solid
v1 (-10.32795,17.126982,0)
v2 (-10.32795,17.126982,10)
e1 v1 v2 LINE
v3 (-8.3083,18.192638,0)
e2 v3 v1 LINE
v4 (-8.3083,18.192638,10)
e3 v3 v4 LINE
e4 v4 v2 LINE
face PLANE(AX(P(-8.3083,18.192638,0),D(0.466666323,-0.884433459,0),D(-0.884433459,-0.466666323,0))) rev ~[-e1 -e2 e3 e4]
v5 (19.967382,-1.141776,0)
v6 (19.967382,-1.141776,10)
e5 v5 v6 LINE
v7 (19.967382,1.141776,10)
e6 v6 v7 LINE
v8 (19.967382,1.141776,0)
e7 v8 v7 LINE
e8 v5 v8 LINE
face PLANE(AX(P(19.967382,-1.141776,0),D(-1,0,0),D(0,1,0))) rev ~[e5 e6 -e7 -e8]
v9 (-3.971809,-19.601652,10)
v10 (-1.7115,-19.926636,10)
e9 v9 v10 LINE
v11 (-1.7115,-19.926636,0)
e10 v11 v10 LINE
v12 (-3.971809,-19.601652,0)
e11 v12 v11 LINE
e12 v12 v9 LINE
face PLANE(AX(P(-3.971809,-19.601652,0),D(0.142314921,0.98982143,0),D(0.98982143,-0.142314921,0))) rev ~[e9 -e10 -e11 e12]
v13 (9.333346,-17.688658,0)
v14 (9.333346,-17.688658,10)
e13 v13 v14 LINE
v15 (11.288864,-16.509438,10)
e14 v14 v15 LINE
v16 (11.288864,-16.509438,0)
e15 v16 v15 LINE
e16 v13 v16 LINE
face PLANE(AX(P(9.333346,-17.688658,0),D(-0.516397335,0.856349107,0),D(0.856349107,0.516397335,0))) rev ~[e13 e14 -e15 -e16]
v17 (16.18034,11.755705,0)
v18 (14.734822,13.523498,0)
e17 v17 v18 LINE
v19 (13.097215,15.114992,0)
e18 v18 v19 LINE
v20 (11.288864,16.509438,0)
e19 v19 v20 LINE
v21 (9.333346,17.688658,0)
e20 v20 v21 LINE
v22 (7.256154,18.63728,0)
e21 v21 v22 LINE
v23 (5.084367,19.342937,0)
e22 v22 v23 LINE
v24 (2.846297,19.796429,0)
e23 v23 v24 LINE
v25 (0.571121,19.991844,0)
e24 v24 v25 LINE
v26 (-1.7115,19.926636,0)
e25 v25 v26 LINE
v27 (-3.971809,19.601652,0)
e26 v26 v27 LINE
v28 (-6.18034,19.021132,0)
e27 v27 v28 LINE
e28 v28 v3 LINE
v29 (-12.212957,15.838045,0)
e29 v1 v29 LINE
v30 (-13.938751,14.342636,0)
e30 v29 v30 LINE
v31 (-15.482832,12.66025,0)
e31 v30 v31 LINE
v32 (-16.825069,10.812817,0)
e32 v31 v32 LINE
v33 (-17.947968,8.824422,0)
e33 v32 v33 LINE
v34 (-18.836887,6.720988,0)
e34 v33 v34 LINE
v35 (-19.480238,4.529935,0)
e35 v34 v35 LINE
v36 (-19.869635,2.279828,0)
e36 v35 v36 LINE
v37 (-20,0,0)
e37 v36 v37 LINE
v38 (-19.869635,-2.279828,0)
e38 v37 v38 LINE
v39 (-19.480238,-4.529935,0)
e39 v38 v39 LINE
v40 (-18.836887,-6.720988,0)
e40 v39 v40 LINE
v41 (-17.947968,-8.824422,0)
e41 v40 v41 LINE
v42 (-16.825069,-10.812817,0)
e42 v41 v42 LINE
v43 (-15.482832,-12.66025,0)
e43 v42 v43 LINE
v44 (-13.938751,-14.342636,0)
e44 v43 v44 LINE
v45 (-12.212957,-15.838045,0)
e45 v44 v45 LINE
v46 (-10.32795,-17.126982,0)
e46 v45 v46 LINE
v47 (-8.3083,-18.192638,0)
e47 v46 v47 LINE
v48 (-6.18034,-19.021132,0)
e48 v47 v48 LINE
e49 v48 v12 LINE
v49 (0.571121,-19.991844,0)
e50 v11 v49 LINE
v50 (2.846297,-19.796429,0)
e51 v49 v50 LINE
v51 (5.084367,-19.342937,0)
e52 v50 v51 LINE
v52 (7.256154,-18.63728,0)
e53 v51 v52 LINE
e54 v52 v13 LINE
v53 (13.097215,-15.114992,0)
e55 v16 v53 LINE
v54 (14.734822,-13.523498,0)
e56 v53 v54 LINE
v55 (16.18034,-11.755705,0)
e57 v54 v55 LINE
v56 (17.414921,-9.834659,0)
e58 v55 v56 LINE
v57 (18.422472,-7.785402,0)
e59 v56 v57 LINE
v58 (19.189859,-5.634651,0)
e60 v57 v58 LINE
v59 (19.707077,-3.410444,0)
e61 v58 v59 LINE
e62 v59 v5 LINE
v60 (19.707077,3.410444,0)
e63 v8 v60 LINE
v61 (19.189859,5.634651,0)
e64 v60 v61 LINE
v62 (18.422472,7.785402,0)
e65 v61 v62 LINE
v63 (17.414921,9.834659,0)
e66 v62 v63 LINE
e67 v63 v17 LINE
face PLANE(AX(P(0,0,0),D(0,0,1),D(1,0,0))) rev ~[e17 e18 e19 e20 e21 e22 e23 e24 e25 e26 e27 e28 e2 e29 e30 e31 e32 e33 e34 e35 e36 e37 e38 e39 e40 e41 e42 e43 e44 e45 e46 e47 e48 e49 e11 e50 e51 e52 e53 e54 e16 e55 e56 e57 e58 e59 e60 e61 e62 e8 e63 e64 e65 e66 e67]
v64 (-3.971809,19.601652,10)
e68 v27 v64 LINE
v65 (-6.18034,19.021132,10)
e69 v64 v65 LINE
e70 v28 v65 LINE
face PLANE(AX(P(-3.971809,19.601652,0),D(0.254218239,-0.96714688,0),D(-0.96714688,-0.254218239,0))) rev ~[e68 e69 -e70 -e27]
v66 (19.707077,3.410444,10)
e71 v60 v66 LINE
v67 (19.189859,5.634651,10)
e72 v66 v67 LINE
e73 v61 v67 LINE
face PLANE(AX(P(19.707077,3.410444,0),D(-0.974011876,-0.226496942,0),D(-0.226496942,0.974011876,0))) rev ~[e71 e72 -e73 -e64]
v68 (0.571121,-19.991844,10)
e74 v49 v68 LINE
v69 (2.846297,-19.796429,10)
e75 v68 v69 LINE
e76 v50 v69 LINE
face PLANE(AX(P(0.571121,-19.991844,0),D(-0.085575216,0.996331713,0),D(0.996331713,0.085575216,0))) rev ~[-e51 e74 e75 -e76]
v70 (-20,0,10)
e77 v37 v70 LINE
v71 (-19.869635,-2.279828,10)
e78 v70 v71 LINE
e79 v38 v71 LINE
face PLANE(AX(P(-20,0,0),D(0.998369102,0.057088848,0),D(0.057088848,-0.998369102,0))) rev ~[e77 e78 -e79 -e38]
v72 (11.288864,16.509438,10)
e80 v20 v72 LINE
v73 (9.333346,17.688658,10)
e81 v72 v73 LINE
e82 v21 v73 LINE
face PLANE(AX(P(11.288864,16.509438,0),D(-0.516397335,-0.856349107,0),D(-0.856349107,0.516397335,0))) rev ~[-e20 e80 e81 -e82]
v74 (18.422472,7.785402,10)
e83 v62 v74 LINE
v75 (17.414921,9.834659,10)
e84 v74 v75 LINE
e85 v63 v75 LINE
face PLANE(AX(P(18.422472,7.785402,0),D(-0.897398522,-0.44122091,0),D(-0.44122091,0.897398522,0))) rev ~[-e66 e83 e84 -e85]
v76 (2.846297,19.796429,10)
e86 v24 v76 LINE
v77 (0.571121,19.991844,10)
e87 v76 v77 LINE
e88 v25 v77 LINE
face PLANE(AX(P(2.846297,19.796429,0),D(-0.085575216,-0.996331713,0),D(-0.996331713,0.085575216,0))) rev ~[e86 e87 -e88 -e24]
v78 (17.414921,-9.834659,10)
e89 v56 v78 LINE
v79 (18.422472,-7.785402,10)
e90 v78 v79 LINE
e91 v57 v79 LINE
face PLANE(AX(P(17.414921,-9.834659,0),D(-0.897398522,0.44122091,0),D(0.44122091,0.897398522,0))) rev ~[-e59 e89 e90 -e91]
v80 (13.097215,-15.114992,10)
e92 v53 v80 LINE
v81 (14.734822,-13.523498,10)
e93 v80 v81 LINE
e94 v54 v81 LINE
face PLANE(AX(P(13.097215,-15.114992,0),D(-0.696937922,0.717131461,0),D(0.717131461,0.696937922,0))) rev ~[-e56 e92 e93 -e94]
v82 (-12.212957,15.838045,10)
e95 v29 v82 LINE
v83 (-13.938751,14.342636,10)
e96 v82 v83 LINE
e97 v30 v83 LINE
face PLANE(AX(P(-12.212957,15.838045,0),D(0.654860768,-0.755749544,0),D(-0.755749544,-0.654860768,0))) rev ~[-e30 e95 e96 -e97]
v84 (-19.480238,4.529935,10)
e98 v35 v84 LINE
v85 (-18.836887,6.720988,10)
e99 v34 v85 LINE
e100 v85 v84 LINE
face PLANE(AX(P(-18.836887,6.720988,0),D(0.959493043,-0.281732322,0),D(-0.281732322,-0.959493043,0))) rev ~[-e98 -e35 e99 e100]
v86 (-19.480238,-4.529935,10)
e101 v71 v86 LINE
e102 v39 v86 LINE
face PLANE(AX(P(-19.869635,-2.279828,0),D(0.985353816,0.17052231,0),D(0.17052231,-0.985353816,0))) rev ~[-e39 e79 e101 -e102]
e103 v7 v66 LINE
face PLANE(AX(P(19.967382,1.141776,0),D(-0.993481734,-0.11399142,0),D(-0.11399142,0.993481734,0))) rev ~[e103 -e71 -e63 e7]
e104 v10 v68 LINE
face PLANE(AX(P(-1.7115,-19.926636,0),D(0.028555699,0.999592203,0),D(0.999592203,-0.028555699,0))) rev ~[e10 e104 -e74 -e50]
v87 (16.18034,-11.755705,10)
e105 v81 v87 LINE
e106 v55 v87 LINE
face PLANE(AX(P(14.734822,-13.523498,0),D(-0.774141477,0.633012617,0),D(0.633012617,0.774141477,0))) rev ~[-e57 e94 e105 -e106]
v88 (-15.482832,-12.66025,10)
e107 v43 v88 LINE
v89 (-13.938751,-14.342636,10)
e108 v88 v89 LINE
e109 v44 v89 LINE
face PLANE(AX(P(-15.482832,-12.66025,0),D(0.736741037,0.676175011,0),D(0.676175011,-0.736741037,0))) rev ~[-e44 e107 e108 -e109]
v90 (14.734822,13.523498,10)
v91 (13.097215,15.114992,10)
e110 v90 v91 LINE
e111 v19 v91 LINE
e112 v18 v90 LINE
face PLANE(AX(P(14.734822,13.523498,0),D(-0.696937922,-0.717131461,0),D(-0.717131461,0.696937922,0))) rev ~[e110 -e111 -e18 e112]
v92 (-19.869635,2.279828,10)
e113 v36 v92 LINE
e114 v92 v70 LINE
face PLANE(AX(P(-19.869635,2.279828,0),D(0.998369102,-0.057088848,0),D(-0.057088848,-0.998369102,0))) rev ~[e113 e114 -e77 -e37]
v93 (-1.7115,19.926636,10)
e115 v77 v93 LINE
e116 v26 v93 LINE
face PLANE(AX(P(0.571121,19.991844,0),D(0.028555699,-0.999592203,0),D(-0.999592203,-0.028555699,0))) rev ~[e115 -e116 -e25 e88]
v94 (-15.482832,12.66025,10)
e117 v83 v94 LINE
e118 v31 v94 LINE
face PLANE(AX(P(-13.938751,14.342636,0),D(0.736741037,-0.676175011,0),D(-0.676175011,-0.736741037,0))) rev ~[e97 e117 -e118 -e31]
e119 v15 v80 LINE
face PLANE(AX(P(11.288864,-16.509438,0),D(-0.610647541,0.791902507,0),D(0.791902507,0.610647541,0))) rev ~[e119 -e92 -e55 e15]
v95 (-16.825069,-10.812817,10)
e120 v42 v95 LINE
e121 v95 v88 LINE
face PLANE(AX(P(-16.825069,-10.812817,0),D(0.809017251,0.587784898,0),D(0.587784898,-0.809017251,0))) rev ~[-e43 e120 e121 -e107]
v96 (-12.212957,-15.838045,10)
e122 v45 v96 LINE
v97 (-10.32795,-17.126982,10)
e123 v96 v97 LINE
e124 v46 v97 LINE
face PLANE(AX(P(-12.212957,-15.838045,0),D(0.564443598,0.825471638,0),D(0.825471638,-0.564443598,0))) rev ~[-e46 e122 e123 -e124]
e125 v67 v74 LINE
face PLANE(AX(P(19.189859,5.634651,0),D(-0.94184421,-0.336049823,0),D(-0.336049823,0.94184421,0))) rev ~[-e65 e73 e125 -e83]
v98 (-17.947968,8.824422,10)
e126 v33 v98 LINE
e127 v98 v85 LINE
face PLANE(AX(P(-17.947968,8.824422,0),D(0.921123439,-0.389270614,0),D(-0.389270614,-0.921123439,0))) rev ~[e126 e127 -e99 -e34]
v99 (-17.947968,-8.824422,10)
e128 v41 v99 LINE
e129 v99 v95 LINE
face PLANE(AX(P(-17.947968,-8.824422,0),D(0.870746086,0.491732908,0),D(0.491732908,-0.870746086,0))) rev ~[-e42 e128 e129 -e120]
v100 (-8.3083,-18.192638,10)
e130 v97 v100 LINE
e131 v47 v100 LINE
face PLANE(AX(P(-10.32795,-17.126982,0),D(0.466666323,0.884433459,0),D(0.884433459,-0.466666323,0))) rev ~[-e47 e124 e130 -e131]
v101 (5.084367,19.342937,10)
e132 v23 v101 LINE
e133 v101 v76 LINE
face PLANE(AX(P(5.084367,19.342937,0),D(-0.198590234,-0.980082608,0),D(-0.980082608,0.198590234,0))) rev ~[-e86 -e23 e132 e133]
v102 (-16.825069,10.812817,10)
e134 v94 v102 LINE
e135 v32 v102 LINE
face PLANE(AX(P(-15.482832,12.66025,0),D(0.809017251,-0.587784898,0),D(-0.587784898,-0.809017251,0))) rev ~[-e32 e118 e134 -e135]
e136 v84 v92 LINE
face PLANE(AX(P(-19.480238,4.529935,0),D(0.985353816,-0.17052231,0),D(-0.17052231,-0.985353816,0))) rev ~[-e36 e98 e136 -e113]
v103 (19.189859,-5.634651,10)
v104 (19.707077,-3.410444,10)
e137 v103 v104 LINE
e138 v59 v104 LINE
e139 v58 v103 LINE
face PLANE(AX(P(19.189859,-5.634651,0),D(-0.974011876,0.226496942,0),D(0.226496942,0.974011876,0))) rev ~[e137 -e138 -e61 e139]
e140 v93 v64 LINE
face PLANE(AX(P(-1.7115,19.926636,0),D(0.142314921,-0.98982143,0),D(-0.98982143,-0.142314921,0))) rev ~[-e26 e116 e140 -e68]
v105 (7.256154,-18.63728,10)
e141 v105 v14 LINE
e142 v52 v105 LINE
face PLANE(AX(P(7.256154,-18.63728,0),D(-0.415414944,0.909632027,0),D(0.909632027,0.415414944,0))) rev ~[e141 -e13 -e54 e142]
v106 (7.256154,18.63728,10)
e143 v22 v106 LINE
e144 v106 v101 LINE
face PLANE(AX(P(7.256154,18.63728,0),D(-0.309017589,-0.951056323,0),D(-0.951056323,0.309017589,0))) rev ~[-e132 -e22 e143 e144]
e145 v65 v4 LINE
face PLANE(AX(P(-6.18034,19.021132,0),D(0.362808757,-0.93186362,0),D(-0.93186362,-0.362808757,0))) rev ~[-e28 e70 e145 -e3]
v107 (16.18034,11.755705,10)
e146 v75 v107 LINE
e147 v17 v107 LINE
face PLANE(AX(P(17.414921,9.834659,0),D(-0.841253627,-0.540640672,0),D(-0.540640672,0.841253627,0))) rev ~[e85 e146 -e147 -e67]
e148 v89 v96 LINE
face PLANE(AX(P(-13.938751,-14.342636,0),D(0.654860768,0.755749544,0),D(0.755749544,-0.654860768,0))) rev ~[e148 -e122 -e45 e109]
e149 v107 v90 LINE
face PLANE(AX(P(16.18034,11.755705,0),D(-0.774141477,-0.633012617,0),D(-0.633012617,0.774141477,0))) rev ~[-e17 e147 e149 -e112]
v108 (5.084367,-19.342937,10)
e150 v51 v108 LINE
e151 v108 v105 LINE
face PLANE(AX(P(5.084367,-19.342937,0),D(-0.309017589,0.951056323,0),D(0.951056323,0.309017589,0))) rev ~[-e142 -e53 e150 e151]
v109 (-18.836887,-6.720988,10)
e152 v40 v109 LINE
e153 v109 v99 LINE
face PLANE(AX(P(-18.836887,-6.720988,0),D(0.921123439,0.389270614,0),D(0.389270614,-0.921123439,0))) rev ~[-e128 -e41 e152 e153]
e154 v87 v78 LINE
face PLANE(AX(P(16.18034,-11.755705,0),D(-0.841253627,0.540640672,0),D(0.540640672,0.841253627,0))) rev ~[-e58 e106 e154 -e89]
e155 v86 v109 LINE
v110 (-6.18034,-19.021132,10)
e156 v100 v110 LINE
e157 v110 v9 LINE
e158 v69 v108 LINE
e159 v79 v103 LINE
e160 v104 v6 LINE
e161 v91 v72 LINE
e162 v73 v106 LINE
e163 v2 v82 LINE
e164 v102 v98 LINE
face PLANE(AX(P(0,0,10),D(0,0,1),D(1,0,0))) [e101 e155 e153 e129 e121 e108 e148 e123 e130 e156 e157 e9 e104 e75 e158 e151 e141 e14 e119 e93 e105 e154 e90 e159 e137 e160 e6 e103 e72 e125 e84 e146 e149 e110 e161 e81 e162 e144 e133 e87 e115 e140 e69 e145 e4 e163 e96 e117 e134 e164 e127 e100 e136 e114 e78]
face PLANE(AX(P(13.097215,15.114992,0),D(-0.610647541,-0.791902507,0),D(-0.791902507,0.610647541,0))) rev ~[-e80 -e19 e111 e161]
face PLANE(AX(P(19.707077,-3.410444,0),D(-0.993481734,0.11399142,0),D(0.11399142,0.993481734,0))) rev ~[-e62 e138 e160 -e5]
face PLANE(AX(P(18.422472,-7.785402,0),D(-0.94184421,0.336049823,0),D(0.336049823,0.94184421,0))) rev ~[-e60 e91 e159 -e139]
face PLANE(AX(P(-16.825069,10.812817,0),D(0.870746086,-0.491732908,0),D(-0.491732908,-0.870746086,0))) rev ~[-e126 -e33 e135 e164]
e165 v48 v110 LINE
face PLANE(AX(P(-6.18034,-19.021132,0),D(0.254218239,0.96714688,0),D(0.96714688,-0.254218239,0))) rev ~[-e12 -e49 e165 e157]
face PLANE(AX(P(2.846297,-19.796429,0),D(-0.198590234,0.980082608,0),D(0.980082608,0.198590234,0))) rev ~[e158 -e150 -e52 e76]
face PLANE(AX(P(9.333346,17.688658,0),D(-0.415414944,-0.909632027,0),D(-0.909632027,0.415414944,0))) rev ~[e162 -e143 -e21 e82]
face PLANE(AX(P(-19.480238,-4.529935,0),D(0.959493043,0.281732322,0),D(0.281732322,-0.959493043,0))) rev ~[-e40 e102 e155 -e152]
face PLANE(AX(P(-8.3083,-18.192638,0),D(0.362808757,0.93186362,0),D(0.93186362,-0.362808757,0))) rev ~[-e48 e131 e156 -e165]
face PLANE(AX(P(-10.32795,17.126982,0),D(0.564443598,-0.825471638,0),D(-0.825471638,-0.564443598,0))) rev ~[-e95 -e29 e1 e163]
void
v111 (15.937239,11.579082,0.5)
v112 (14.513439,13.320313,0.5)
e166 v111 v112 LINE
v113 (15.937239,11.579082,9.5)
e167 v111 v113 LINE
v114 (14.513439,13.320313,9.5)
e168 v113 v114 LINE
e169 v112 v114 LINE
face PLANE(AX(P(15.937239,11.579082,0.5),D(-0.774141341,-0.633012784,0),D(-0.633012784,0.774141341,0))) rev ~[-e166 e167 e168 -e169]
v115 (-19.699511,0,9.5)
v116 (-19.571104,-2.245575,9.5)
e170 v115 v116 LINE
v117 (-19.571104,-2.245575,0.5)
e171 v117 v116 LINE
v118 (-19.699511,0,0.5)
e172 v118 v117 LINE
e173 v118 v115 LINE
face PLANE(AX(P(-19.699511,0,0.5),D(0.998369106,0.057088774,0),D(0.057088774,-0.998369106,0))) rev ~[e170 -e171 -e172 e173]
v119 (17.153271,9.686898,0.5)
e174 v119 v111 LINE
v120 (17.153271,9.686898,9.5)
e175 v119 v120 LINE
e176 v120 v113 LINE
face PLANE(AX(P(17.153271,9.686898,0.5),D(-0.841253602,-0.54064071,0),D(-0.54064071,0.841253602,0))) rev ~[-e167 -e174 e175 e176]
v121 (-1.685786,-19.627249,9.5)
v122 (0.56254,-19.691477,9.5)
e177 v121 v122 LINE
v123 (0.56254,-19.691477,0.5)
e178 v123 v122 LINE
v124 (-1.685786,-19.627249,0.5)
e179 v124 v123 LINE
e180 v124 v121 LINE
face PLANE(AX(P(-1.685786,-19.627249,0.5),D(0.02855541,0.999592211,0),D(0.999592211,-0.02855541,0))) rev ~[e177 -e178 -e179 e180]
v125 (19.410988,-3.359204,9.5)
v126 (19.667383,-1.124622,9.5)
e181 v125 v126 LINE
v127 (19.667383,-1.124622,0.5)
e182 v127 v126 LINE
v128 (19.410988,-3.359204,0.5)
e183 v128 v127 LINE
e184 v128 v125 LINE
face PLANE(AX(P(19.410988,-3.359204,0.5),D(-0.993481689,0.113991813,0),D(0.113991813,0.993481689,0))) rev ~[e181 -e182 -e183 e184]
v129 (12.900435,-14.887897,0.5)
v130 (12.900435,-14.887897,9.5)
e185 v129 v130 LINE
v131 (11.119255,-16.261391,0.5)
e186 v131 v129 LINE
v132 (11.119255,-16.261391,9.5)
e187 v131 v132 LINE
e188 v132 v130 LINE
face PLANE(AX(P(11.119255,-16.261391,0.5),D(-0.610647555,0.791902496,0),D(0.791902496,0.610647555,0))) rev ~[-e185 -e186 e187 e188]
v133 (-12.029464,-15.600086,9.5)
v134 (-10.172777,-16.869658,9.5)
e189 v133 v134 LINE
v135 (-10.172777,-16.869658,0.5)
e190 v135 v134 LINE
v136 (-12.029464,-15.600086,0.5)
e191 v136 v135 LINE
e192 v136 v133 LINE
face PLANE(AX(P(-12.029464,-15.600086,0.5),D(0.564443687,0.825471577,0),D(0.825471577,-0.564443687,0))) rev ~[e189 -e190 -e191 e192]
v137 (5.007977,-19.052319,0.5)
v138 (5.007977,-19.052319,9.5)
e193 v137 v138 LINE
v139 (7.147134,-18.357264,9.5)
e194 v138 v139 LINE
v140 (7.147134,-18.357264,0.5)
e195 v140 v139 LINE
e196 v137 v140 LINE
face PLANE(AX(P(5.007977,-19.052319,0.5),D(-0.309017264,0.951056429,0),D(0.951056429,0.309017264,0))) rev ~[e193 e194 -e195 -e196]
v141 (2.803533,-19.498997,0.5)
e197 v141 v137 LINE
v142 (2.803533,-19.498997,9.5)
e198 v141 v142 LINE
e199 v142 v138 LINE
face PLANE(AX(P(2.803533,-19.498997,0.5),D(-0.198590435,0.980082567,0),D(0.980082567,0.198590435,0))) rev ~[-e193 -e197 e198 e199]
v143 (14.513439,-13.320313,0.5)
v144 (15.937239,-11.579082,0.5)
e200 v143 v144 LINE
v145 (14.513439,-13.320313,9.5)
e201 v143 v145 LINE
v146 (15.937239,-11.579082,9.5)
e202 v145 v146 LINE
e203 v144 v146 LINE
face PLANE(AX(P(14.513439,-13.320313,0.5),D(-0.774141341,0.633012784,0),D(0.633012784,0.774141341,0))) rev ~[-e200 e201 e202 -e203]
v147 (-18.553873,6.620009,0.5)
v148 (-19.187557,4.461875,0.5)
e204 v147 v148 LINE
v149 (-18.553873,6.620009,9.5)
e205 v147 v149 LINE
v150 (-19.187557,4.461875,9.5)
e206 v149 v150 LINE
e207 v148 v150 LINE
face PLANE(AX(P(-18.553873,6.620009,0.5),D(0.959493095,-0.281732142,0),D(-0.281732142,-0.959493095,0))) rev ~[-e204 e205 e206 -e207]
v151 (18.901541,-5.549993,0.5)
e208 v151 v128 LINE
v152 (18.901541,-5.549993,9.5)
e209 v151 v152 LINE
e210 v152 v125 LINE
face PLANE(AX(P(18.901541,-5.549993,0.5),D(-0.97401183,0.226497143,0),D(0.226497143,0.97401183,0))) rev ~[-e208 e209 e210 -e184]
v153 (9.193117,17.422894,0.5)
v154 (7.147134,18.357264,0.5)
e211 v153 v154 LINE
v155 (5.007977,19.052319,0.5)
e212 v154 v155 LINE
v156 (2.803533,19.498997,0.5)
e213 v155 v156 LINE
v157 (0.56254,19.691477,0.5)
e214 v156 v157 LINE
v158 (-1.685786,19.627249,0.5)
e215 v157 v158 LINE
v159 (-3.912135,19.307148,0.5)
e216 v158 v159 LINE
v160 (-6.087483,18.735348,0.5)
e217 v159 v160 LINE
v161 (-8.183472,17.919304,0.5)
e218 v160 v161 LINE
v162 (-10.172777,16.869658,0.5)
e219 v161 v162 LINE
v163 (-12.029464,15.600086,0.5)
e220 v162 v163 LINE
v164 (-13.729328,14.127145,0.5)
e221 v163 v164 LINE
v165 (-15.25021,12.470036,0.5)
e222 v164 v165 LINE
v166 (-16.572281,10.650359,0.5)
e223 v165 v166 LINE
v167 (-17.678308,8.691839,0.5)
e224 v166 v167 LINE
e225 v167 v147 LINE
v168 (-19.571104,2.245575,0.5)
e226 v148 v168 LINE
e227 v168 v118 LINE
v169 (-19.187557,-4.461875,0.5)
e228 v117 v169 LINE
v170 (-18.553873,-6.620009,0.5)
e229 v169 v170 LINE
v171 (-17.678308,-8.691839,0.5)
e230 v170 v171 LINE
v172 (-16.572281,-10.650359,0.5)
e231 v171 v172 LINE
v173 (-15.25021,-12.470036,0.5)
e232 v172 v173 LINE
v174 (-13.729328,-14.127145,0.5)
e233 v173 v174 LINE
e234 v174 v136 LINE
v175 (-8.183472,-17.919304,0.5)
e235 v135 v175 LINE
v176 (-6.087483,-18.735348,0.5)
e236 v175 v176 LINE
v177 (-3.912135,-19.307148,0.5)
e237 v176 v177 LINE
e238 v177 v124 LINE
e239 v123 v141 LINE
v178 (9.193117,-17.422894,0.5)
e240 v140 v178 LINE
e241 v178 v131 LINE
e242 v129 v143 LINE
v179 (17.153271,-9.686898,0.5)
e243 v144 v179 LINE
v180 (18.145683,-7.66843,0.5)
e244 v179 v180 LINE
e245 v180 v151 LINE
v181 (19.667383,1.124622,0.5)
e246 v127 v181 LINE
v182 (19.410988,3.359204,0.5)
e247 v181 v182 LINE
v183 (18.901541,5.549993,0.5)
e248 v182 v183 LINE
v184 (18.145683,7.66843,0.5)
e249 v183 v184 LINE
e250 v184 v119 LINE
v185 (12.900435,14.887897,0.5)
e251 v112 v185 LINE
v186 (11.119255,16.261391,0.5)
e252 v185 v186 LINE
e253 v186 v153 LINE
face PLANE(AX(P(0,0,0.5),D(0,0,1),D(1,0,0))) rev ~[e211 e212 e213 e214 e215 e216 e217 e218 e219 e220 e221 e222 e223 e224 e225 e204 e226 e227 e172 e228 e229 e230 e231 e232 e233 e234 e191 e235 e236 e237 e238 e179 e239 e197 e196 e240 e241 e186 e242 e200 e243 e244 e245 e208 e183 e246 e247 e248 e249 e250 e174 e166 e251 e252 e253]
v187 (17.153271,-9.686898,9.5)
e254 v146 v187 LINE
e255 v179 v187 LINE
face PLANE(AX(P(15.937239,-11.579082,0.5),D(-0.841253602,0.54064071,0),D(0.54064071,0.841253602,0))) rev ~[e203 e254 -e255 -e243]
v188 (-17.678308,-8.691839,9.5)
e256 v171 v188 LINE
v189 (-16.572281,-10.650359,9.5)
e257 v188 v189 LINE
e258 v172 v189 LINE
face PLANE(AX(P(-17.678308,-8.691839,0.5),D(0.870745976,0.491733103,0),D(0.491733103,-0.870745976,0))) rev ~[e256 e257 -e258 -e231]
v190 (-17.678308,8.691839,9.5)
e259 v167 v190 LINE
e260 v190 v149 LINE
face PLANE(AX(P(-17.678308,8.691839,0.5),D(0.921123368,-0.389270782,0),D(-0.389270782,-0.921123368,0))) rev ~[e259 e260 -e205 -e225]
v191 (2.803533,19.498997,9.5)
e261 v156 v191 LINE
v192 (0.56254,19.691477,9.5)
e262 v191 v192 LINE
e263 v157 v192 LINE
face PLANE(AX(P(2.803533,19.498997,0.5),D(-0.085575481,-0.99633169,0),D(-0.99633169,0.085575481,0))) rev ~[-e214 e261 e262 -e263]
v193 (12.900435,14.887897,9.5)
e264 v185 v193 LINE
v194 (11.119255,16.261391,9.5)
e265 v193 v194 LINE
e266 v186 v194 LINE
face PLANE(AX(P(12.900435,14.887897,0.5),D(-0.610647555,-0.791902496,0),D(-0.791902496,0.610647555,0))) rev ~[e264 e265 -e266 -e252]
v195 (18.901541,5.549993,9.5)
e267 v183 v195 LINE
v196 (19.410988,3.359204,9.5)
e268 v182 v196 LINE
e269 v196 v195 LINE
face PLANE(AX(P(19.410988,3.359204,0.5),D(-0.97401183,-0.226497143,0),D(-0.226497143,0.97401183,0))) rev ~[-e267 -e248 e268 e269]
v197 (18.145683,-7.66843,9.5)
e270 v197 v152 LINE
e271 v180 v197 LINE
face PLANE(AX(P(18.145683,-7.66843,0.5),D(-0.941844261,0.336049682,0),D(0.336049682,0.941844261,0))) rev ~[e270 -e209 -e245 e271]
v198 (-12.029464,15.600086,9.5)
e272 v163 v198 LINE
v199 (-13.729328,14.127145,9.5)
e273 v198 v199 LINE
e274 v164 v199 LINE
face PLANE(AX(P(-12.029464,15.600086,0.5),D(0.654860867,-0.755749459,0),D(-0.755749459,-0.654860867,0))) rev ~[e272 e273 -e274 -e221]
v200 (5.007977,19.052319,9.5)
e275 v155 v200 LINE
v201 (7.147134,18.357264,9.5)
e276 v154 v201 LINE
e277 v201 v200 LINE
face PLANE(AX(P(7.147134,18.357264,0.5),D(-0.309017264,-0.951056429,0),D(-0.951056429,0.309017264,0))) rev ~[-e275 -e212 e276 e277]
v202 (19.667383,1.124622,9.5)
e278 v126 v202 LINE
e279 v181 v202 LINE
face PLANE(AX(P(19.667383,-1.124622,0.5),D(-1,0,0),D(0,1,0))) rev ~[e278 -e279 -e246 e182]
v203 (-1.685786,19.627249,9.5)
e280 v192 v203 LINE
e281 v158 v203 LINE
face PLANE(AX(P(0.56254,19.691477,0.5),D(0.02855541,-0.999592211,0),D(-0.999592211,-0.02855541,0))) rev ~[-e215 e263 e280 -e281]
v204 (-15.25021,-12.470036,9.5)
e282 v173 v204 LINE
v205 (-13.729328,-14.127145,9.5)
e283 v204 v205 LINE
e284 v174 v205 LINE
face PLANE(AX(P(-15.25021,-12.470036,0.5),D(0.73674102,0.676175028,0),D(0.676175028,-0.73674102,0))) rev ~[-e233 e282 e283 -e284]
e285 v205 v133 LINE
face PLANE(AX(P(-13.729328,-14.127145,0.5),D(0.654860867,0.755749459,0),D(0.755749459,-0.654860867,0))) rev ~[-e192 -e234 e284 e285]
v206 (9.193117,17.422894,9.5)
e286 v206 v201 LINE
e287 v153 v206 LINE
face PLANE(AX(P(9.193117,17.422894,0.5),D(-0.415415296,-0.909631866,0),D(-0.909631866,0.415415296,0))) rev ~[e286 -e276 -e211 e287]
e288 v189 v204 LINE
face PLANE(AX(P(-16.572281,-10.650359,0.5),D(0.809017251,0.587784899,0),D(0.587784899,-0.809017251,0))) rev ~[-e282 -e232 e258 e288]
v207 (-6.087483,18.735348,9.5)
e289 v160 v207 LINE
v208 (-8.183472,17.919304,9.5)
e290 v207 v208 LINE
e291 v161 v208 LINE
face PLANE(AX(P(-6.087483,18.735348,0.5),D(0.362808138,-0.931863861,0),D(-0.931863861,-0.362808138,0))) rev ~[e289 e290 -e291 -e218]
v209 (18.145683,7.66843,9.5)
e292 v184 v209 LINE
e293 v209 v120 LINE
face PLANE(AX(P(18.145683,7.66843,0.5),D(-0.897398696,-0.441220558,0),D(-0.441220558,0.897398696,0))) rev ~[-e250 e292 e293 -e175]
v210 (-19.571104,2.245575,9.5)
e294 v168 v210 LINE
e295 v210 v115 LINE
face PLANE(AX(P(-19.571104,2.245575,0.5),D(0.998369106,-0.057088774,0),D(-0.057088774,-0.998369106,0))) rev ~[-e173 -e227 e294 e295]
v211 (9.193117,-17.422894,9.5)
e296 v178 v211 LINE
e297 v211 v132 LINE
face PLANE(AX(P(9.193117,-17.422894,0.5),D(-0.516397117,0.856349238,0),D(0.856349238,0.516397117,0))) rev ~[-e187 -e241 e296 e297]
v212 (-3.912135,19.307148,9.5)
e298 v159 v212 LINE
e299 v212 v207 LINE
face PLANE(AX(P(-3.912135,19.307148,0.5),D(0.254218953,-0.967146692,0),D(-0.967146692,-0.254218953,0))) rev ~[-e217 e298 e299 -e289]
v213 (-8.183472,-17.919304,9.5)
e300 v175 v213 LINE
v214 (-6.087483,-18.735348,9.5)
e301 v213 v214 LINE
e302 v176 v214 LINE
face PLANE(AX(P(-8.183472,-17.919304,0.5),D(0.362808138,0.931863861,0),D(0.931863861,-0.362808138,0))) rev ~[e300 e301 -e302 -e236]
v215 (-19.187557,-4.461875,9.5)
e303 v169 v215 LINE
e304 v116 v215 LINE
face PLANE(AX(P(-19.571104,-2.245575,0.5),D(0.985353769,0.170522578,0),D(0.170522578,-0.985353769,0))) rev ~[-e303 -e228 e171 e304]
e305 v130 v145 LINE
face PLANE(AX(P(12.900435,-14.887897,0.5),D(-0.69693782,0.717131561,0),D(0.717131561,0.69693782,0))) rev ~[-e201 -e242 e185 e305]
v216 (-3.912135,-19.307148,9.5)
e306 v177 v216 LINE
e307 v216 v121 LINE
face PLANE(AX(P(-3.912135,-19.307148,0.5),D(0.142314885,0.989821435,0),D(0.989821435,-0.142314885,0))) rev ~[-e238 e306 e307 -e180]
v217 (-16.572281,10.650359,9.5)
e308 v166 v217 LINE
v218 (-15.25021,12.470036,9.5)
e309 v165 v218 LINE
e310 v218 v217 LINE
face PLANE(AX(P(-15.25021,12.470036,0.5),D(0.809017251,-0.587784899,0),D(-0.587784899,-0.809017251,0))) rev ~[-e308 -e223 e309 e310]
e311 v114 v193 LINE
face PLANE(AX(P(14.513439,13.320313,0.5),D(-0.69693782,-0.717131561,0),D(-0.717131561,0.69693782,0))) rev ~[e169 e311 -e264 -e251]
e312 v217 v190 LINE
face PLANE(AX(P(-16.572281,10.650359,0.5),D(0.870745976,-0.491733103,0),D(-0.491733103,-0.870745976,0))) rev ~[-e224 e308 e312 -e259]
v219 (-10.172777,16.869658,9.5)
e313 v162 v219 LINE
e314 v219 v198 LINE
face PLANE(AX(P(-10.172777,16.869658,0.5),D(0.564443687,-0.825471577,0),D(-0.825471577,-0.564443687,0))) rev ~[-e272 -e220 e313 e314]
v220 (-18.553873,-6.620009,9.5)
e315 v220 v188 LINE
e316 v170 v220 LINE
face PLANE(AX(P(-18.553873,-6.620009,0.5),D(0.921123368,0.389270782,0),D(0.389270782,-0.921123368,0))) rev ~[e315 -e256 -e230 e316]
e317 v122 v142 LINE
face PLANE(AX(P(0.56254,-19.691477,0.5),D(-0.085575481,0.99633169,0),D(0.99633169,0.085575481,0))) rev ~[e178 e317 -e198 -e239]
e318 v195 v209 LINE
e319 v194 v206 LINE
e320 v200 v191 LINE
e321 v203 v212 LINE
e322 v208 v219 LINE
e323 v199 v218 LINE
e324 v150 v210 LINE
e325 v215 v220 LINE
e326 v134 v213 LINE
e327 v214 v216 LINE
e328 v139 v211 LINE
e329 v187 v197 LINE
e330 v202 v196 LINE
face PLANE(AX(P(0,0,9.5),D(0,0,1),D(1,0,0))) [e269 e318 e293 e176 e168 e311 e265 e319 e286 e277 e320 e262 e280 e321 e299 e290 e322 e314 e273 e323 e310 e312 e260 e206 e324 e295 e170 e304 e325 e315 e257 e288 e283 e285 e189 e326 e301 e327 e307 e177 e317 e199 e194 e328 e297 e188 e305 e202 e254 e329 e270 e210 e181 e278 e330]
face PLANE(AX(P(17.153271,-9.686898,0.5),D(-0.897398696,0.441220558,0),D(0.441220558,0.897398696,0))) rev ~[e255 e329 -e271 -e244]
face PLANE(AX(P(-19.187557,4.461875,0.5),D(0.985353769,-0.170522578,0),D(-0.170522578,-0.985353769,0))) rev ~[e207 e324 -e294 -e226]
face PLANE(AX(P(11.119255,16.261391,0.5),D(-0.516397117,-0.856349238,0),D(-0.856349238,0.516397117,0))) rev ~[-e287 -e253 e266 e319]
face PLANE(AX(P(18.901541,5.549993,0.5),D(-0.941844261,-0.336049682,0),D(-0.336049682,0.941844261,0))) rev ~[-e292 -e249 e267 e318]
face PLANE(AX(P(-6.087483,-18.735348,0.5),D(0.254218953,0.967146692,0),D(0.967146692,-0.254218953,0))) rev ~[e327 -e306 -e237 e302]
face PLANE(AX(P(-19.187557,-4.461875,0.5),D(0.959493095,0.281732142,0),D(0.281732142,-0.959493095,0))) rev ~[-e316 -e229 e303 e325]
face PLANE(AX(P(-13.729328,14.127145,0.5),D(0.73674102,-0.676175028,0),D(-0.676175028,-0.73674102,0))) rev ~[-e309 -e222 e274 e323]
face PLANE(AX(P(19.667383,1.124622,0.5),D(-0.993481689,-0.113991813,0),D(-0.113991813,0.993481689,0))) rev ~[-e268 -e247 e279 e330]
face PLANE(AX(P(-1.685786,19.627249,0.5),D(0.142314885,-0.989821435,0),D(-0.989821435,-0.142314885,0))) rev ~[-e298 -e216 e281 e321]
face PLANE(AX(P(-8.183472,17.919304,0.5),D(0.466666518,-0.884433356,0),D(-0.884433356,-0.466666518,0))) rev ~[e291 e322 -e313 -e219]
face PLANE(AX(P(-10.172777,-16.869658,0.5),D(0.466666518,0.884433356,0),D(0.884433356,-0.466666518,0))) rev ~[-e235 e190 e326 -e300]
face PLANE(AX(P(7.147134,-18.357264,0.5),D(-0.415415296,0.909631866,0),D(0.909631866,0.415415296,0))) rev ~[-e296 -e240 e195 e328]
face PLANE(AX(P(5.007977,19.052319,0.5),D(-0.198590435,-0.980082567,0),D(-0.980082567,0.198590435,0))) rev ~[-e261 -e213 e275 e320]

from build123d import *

# Parameters (mm, degrees)
TH_N_NGO_I_DEPTH      = 10
KHOANG_START          = 0.5
KHOANG_R_NG_K_N_DEPTH = 9


with BuildPart() as part:
    # Biên dạng ngoài theo phôi gốc → Thân ngoài (new body)
    with BuildSketch(Plane.XY):
        Polygon((-20, 0), (-19.869634628, -2.279828072), (-19.480237961, -4.52993536), (-18.83688736, -6.720988274), (-17.947967529, -8.824421883), (-16.825069428, -10.81281662), (-15.482831955, -12.66024971), (-13.938751221, -14.342636108), (-12.212957382, -15.83804512), (-10.327949524, -17.126981735), (-8.308300018, -18.192638397), (-6.180339813, -19.021131515), (-3.971809387, -19.601652145), (-1.711500168, -19.926635742), (0.571121037, -19.991844177), (2.846296787, -19.79642868), (5.084366798, -19.34293747), (7.25615406, -18.637279511), (9.333346367, -17.688657761), (11.288864136, -16.509437561), (13.097214699, -15.114992142), (14.734822273, -13.523497581), (16.180339813, -11.75570488), (17.414920807, -9.834658623), (18.422472, -7.785401821), (19.18985939, -5.634651184), (19.707077026, -3.410444021), (19.967382431, -1.141776204), (19.967382431, 1.141776204), (19.707077026, 3.410444021), (19.18985939, 5.634651184), (18.422472, 7.785401821), (17.414920807, 9.834658623), (16.180339813, 11.75570488), (14.734822273, 13.523497581), (13.097214699, 15.114992142), (11.288864136, 16.509437561), (9.333346367, 17.688657761), (7.25615406, 18.637279511), (5.084366798, 19.34293747), (2.846296787, 19.79642868), (0.571121037, 19.991844177), (-1.711500168, 19.926635742), (-3.971809387, 19.601652145), (-6.180339813, 19.021131515), (-8.308300018, 18.192638397), (-10.327949524, 17.126981735), (-12.212957382, 15.83804512), (-13.938751221, 14.342636108), (-15.482831955, 12.66024971), (-16.825069428, 10.81281662), (-17.947967529, 8.824421883), (-18.83688736, 6.720988274), (-19.480237961, 4.52993536), (-19.869634628, 2.279828072), align=None)
    extrude(amount=TH_N_NGO_I_DEPTH)

    # Biên dạng trong cách thành ngoài 0,3 mm → Khoang rỗng kín (cut)
    with BuildSketch(Plane.XY.offset(KHOANG_START)):
        Polygon((-19.57110405, -2.245574713), (-19.187557221, -4.461875439), (-18.553873062, -6.620008946), (-17.678308487, -8.691839218), (-16.572280884, -10.650359154), (-15.250209808, -12.470035553), (-13.729328155, -14.127144813), (-12.029463768, -15.600086212), (-10.172777176, -16.869657516), (-8.18347168, -17.919303894), (-6.087482929, -18.735347748), (-3.912134886, -19.30714798), (-1.68578577, -19.627248764), (0.562540114, -19.691476822), (2.8035326, -19.498996735), (5.007976532, -19.052318573), (7.147133827, -18.357263565), (9.193117142, -17.422893524), (11.119255066, -16.261390686), (12.900435448, -14.887896538), (14.513439179, -13.320313454), (15.937238693, -11.579081535), (17.153270721, -9.686898232), (18.145683289, -7.668429852), (18.901540756, -5.549993038), (19.410987854, -3.359203815), (19.667383194, -1.12462163), (19.667383194, 1.12462163), (19.410987854, 3.359203815), (18.901540756, 5.549993038), (18.145683289, 7.668429852), (17.153270721, 9.686898232), (15.937238693, 11.579081535), (14.513439179, 13.320313454), (12.900435448, 14.887896538), (11.119255066, 16.261390686), (9.193117142, 17.422893524), (7.147133827, 18.357263565), (5.007976532, 19.052318573), (2.8035326, 19.498996735), (0.562540114, 19.691476822), (-1.68578577, 19.627248764), (-3.912134886, 19.30714798), (-6.087482929, 18.735347748), (-8.18347168, 17.919303894), (-10.172777176, 16.869657516), (-12.029463768, 15.600086212), (-13.729328155, 14.127144813), (-15.250209808, 12.470035553), (-16.572280884, 10.650359154), (-17.678308487, 8.691839218), (-18.553873062, 6.620008946), (-19.187557221, 4.461875439), (-19.57110405, 2.245574713), (-19.699510574, 0), align=None)
    extrude(amount=KHOANG_R_NG_K_N_DEPTH, mode=Mode.SUBTRACT)


solid = part.part
